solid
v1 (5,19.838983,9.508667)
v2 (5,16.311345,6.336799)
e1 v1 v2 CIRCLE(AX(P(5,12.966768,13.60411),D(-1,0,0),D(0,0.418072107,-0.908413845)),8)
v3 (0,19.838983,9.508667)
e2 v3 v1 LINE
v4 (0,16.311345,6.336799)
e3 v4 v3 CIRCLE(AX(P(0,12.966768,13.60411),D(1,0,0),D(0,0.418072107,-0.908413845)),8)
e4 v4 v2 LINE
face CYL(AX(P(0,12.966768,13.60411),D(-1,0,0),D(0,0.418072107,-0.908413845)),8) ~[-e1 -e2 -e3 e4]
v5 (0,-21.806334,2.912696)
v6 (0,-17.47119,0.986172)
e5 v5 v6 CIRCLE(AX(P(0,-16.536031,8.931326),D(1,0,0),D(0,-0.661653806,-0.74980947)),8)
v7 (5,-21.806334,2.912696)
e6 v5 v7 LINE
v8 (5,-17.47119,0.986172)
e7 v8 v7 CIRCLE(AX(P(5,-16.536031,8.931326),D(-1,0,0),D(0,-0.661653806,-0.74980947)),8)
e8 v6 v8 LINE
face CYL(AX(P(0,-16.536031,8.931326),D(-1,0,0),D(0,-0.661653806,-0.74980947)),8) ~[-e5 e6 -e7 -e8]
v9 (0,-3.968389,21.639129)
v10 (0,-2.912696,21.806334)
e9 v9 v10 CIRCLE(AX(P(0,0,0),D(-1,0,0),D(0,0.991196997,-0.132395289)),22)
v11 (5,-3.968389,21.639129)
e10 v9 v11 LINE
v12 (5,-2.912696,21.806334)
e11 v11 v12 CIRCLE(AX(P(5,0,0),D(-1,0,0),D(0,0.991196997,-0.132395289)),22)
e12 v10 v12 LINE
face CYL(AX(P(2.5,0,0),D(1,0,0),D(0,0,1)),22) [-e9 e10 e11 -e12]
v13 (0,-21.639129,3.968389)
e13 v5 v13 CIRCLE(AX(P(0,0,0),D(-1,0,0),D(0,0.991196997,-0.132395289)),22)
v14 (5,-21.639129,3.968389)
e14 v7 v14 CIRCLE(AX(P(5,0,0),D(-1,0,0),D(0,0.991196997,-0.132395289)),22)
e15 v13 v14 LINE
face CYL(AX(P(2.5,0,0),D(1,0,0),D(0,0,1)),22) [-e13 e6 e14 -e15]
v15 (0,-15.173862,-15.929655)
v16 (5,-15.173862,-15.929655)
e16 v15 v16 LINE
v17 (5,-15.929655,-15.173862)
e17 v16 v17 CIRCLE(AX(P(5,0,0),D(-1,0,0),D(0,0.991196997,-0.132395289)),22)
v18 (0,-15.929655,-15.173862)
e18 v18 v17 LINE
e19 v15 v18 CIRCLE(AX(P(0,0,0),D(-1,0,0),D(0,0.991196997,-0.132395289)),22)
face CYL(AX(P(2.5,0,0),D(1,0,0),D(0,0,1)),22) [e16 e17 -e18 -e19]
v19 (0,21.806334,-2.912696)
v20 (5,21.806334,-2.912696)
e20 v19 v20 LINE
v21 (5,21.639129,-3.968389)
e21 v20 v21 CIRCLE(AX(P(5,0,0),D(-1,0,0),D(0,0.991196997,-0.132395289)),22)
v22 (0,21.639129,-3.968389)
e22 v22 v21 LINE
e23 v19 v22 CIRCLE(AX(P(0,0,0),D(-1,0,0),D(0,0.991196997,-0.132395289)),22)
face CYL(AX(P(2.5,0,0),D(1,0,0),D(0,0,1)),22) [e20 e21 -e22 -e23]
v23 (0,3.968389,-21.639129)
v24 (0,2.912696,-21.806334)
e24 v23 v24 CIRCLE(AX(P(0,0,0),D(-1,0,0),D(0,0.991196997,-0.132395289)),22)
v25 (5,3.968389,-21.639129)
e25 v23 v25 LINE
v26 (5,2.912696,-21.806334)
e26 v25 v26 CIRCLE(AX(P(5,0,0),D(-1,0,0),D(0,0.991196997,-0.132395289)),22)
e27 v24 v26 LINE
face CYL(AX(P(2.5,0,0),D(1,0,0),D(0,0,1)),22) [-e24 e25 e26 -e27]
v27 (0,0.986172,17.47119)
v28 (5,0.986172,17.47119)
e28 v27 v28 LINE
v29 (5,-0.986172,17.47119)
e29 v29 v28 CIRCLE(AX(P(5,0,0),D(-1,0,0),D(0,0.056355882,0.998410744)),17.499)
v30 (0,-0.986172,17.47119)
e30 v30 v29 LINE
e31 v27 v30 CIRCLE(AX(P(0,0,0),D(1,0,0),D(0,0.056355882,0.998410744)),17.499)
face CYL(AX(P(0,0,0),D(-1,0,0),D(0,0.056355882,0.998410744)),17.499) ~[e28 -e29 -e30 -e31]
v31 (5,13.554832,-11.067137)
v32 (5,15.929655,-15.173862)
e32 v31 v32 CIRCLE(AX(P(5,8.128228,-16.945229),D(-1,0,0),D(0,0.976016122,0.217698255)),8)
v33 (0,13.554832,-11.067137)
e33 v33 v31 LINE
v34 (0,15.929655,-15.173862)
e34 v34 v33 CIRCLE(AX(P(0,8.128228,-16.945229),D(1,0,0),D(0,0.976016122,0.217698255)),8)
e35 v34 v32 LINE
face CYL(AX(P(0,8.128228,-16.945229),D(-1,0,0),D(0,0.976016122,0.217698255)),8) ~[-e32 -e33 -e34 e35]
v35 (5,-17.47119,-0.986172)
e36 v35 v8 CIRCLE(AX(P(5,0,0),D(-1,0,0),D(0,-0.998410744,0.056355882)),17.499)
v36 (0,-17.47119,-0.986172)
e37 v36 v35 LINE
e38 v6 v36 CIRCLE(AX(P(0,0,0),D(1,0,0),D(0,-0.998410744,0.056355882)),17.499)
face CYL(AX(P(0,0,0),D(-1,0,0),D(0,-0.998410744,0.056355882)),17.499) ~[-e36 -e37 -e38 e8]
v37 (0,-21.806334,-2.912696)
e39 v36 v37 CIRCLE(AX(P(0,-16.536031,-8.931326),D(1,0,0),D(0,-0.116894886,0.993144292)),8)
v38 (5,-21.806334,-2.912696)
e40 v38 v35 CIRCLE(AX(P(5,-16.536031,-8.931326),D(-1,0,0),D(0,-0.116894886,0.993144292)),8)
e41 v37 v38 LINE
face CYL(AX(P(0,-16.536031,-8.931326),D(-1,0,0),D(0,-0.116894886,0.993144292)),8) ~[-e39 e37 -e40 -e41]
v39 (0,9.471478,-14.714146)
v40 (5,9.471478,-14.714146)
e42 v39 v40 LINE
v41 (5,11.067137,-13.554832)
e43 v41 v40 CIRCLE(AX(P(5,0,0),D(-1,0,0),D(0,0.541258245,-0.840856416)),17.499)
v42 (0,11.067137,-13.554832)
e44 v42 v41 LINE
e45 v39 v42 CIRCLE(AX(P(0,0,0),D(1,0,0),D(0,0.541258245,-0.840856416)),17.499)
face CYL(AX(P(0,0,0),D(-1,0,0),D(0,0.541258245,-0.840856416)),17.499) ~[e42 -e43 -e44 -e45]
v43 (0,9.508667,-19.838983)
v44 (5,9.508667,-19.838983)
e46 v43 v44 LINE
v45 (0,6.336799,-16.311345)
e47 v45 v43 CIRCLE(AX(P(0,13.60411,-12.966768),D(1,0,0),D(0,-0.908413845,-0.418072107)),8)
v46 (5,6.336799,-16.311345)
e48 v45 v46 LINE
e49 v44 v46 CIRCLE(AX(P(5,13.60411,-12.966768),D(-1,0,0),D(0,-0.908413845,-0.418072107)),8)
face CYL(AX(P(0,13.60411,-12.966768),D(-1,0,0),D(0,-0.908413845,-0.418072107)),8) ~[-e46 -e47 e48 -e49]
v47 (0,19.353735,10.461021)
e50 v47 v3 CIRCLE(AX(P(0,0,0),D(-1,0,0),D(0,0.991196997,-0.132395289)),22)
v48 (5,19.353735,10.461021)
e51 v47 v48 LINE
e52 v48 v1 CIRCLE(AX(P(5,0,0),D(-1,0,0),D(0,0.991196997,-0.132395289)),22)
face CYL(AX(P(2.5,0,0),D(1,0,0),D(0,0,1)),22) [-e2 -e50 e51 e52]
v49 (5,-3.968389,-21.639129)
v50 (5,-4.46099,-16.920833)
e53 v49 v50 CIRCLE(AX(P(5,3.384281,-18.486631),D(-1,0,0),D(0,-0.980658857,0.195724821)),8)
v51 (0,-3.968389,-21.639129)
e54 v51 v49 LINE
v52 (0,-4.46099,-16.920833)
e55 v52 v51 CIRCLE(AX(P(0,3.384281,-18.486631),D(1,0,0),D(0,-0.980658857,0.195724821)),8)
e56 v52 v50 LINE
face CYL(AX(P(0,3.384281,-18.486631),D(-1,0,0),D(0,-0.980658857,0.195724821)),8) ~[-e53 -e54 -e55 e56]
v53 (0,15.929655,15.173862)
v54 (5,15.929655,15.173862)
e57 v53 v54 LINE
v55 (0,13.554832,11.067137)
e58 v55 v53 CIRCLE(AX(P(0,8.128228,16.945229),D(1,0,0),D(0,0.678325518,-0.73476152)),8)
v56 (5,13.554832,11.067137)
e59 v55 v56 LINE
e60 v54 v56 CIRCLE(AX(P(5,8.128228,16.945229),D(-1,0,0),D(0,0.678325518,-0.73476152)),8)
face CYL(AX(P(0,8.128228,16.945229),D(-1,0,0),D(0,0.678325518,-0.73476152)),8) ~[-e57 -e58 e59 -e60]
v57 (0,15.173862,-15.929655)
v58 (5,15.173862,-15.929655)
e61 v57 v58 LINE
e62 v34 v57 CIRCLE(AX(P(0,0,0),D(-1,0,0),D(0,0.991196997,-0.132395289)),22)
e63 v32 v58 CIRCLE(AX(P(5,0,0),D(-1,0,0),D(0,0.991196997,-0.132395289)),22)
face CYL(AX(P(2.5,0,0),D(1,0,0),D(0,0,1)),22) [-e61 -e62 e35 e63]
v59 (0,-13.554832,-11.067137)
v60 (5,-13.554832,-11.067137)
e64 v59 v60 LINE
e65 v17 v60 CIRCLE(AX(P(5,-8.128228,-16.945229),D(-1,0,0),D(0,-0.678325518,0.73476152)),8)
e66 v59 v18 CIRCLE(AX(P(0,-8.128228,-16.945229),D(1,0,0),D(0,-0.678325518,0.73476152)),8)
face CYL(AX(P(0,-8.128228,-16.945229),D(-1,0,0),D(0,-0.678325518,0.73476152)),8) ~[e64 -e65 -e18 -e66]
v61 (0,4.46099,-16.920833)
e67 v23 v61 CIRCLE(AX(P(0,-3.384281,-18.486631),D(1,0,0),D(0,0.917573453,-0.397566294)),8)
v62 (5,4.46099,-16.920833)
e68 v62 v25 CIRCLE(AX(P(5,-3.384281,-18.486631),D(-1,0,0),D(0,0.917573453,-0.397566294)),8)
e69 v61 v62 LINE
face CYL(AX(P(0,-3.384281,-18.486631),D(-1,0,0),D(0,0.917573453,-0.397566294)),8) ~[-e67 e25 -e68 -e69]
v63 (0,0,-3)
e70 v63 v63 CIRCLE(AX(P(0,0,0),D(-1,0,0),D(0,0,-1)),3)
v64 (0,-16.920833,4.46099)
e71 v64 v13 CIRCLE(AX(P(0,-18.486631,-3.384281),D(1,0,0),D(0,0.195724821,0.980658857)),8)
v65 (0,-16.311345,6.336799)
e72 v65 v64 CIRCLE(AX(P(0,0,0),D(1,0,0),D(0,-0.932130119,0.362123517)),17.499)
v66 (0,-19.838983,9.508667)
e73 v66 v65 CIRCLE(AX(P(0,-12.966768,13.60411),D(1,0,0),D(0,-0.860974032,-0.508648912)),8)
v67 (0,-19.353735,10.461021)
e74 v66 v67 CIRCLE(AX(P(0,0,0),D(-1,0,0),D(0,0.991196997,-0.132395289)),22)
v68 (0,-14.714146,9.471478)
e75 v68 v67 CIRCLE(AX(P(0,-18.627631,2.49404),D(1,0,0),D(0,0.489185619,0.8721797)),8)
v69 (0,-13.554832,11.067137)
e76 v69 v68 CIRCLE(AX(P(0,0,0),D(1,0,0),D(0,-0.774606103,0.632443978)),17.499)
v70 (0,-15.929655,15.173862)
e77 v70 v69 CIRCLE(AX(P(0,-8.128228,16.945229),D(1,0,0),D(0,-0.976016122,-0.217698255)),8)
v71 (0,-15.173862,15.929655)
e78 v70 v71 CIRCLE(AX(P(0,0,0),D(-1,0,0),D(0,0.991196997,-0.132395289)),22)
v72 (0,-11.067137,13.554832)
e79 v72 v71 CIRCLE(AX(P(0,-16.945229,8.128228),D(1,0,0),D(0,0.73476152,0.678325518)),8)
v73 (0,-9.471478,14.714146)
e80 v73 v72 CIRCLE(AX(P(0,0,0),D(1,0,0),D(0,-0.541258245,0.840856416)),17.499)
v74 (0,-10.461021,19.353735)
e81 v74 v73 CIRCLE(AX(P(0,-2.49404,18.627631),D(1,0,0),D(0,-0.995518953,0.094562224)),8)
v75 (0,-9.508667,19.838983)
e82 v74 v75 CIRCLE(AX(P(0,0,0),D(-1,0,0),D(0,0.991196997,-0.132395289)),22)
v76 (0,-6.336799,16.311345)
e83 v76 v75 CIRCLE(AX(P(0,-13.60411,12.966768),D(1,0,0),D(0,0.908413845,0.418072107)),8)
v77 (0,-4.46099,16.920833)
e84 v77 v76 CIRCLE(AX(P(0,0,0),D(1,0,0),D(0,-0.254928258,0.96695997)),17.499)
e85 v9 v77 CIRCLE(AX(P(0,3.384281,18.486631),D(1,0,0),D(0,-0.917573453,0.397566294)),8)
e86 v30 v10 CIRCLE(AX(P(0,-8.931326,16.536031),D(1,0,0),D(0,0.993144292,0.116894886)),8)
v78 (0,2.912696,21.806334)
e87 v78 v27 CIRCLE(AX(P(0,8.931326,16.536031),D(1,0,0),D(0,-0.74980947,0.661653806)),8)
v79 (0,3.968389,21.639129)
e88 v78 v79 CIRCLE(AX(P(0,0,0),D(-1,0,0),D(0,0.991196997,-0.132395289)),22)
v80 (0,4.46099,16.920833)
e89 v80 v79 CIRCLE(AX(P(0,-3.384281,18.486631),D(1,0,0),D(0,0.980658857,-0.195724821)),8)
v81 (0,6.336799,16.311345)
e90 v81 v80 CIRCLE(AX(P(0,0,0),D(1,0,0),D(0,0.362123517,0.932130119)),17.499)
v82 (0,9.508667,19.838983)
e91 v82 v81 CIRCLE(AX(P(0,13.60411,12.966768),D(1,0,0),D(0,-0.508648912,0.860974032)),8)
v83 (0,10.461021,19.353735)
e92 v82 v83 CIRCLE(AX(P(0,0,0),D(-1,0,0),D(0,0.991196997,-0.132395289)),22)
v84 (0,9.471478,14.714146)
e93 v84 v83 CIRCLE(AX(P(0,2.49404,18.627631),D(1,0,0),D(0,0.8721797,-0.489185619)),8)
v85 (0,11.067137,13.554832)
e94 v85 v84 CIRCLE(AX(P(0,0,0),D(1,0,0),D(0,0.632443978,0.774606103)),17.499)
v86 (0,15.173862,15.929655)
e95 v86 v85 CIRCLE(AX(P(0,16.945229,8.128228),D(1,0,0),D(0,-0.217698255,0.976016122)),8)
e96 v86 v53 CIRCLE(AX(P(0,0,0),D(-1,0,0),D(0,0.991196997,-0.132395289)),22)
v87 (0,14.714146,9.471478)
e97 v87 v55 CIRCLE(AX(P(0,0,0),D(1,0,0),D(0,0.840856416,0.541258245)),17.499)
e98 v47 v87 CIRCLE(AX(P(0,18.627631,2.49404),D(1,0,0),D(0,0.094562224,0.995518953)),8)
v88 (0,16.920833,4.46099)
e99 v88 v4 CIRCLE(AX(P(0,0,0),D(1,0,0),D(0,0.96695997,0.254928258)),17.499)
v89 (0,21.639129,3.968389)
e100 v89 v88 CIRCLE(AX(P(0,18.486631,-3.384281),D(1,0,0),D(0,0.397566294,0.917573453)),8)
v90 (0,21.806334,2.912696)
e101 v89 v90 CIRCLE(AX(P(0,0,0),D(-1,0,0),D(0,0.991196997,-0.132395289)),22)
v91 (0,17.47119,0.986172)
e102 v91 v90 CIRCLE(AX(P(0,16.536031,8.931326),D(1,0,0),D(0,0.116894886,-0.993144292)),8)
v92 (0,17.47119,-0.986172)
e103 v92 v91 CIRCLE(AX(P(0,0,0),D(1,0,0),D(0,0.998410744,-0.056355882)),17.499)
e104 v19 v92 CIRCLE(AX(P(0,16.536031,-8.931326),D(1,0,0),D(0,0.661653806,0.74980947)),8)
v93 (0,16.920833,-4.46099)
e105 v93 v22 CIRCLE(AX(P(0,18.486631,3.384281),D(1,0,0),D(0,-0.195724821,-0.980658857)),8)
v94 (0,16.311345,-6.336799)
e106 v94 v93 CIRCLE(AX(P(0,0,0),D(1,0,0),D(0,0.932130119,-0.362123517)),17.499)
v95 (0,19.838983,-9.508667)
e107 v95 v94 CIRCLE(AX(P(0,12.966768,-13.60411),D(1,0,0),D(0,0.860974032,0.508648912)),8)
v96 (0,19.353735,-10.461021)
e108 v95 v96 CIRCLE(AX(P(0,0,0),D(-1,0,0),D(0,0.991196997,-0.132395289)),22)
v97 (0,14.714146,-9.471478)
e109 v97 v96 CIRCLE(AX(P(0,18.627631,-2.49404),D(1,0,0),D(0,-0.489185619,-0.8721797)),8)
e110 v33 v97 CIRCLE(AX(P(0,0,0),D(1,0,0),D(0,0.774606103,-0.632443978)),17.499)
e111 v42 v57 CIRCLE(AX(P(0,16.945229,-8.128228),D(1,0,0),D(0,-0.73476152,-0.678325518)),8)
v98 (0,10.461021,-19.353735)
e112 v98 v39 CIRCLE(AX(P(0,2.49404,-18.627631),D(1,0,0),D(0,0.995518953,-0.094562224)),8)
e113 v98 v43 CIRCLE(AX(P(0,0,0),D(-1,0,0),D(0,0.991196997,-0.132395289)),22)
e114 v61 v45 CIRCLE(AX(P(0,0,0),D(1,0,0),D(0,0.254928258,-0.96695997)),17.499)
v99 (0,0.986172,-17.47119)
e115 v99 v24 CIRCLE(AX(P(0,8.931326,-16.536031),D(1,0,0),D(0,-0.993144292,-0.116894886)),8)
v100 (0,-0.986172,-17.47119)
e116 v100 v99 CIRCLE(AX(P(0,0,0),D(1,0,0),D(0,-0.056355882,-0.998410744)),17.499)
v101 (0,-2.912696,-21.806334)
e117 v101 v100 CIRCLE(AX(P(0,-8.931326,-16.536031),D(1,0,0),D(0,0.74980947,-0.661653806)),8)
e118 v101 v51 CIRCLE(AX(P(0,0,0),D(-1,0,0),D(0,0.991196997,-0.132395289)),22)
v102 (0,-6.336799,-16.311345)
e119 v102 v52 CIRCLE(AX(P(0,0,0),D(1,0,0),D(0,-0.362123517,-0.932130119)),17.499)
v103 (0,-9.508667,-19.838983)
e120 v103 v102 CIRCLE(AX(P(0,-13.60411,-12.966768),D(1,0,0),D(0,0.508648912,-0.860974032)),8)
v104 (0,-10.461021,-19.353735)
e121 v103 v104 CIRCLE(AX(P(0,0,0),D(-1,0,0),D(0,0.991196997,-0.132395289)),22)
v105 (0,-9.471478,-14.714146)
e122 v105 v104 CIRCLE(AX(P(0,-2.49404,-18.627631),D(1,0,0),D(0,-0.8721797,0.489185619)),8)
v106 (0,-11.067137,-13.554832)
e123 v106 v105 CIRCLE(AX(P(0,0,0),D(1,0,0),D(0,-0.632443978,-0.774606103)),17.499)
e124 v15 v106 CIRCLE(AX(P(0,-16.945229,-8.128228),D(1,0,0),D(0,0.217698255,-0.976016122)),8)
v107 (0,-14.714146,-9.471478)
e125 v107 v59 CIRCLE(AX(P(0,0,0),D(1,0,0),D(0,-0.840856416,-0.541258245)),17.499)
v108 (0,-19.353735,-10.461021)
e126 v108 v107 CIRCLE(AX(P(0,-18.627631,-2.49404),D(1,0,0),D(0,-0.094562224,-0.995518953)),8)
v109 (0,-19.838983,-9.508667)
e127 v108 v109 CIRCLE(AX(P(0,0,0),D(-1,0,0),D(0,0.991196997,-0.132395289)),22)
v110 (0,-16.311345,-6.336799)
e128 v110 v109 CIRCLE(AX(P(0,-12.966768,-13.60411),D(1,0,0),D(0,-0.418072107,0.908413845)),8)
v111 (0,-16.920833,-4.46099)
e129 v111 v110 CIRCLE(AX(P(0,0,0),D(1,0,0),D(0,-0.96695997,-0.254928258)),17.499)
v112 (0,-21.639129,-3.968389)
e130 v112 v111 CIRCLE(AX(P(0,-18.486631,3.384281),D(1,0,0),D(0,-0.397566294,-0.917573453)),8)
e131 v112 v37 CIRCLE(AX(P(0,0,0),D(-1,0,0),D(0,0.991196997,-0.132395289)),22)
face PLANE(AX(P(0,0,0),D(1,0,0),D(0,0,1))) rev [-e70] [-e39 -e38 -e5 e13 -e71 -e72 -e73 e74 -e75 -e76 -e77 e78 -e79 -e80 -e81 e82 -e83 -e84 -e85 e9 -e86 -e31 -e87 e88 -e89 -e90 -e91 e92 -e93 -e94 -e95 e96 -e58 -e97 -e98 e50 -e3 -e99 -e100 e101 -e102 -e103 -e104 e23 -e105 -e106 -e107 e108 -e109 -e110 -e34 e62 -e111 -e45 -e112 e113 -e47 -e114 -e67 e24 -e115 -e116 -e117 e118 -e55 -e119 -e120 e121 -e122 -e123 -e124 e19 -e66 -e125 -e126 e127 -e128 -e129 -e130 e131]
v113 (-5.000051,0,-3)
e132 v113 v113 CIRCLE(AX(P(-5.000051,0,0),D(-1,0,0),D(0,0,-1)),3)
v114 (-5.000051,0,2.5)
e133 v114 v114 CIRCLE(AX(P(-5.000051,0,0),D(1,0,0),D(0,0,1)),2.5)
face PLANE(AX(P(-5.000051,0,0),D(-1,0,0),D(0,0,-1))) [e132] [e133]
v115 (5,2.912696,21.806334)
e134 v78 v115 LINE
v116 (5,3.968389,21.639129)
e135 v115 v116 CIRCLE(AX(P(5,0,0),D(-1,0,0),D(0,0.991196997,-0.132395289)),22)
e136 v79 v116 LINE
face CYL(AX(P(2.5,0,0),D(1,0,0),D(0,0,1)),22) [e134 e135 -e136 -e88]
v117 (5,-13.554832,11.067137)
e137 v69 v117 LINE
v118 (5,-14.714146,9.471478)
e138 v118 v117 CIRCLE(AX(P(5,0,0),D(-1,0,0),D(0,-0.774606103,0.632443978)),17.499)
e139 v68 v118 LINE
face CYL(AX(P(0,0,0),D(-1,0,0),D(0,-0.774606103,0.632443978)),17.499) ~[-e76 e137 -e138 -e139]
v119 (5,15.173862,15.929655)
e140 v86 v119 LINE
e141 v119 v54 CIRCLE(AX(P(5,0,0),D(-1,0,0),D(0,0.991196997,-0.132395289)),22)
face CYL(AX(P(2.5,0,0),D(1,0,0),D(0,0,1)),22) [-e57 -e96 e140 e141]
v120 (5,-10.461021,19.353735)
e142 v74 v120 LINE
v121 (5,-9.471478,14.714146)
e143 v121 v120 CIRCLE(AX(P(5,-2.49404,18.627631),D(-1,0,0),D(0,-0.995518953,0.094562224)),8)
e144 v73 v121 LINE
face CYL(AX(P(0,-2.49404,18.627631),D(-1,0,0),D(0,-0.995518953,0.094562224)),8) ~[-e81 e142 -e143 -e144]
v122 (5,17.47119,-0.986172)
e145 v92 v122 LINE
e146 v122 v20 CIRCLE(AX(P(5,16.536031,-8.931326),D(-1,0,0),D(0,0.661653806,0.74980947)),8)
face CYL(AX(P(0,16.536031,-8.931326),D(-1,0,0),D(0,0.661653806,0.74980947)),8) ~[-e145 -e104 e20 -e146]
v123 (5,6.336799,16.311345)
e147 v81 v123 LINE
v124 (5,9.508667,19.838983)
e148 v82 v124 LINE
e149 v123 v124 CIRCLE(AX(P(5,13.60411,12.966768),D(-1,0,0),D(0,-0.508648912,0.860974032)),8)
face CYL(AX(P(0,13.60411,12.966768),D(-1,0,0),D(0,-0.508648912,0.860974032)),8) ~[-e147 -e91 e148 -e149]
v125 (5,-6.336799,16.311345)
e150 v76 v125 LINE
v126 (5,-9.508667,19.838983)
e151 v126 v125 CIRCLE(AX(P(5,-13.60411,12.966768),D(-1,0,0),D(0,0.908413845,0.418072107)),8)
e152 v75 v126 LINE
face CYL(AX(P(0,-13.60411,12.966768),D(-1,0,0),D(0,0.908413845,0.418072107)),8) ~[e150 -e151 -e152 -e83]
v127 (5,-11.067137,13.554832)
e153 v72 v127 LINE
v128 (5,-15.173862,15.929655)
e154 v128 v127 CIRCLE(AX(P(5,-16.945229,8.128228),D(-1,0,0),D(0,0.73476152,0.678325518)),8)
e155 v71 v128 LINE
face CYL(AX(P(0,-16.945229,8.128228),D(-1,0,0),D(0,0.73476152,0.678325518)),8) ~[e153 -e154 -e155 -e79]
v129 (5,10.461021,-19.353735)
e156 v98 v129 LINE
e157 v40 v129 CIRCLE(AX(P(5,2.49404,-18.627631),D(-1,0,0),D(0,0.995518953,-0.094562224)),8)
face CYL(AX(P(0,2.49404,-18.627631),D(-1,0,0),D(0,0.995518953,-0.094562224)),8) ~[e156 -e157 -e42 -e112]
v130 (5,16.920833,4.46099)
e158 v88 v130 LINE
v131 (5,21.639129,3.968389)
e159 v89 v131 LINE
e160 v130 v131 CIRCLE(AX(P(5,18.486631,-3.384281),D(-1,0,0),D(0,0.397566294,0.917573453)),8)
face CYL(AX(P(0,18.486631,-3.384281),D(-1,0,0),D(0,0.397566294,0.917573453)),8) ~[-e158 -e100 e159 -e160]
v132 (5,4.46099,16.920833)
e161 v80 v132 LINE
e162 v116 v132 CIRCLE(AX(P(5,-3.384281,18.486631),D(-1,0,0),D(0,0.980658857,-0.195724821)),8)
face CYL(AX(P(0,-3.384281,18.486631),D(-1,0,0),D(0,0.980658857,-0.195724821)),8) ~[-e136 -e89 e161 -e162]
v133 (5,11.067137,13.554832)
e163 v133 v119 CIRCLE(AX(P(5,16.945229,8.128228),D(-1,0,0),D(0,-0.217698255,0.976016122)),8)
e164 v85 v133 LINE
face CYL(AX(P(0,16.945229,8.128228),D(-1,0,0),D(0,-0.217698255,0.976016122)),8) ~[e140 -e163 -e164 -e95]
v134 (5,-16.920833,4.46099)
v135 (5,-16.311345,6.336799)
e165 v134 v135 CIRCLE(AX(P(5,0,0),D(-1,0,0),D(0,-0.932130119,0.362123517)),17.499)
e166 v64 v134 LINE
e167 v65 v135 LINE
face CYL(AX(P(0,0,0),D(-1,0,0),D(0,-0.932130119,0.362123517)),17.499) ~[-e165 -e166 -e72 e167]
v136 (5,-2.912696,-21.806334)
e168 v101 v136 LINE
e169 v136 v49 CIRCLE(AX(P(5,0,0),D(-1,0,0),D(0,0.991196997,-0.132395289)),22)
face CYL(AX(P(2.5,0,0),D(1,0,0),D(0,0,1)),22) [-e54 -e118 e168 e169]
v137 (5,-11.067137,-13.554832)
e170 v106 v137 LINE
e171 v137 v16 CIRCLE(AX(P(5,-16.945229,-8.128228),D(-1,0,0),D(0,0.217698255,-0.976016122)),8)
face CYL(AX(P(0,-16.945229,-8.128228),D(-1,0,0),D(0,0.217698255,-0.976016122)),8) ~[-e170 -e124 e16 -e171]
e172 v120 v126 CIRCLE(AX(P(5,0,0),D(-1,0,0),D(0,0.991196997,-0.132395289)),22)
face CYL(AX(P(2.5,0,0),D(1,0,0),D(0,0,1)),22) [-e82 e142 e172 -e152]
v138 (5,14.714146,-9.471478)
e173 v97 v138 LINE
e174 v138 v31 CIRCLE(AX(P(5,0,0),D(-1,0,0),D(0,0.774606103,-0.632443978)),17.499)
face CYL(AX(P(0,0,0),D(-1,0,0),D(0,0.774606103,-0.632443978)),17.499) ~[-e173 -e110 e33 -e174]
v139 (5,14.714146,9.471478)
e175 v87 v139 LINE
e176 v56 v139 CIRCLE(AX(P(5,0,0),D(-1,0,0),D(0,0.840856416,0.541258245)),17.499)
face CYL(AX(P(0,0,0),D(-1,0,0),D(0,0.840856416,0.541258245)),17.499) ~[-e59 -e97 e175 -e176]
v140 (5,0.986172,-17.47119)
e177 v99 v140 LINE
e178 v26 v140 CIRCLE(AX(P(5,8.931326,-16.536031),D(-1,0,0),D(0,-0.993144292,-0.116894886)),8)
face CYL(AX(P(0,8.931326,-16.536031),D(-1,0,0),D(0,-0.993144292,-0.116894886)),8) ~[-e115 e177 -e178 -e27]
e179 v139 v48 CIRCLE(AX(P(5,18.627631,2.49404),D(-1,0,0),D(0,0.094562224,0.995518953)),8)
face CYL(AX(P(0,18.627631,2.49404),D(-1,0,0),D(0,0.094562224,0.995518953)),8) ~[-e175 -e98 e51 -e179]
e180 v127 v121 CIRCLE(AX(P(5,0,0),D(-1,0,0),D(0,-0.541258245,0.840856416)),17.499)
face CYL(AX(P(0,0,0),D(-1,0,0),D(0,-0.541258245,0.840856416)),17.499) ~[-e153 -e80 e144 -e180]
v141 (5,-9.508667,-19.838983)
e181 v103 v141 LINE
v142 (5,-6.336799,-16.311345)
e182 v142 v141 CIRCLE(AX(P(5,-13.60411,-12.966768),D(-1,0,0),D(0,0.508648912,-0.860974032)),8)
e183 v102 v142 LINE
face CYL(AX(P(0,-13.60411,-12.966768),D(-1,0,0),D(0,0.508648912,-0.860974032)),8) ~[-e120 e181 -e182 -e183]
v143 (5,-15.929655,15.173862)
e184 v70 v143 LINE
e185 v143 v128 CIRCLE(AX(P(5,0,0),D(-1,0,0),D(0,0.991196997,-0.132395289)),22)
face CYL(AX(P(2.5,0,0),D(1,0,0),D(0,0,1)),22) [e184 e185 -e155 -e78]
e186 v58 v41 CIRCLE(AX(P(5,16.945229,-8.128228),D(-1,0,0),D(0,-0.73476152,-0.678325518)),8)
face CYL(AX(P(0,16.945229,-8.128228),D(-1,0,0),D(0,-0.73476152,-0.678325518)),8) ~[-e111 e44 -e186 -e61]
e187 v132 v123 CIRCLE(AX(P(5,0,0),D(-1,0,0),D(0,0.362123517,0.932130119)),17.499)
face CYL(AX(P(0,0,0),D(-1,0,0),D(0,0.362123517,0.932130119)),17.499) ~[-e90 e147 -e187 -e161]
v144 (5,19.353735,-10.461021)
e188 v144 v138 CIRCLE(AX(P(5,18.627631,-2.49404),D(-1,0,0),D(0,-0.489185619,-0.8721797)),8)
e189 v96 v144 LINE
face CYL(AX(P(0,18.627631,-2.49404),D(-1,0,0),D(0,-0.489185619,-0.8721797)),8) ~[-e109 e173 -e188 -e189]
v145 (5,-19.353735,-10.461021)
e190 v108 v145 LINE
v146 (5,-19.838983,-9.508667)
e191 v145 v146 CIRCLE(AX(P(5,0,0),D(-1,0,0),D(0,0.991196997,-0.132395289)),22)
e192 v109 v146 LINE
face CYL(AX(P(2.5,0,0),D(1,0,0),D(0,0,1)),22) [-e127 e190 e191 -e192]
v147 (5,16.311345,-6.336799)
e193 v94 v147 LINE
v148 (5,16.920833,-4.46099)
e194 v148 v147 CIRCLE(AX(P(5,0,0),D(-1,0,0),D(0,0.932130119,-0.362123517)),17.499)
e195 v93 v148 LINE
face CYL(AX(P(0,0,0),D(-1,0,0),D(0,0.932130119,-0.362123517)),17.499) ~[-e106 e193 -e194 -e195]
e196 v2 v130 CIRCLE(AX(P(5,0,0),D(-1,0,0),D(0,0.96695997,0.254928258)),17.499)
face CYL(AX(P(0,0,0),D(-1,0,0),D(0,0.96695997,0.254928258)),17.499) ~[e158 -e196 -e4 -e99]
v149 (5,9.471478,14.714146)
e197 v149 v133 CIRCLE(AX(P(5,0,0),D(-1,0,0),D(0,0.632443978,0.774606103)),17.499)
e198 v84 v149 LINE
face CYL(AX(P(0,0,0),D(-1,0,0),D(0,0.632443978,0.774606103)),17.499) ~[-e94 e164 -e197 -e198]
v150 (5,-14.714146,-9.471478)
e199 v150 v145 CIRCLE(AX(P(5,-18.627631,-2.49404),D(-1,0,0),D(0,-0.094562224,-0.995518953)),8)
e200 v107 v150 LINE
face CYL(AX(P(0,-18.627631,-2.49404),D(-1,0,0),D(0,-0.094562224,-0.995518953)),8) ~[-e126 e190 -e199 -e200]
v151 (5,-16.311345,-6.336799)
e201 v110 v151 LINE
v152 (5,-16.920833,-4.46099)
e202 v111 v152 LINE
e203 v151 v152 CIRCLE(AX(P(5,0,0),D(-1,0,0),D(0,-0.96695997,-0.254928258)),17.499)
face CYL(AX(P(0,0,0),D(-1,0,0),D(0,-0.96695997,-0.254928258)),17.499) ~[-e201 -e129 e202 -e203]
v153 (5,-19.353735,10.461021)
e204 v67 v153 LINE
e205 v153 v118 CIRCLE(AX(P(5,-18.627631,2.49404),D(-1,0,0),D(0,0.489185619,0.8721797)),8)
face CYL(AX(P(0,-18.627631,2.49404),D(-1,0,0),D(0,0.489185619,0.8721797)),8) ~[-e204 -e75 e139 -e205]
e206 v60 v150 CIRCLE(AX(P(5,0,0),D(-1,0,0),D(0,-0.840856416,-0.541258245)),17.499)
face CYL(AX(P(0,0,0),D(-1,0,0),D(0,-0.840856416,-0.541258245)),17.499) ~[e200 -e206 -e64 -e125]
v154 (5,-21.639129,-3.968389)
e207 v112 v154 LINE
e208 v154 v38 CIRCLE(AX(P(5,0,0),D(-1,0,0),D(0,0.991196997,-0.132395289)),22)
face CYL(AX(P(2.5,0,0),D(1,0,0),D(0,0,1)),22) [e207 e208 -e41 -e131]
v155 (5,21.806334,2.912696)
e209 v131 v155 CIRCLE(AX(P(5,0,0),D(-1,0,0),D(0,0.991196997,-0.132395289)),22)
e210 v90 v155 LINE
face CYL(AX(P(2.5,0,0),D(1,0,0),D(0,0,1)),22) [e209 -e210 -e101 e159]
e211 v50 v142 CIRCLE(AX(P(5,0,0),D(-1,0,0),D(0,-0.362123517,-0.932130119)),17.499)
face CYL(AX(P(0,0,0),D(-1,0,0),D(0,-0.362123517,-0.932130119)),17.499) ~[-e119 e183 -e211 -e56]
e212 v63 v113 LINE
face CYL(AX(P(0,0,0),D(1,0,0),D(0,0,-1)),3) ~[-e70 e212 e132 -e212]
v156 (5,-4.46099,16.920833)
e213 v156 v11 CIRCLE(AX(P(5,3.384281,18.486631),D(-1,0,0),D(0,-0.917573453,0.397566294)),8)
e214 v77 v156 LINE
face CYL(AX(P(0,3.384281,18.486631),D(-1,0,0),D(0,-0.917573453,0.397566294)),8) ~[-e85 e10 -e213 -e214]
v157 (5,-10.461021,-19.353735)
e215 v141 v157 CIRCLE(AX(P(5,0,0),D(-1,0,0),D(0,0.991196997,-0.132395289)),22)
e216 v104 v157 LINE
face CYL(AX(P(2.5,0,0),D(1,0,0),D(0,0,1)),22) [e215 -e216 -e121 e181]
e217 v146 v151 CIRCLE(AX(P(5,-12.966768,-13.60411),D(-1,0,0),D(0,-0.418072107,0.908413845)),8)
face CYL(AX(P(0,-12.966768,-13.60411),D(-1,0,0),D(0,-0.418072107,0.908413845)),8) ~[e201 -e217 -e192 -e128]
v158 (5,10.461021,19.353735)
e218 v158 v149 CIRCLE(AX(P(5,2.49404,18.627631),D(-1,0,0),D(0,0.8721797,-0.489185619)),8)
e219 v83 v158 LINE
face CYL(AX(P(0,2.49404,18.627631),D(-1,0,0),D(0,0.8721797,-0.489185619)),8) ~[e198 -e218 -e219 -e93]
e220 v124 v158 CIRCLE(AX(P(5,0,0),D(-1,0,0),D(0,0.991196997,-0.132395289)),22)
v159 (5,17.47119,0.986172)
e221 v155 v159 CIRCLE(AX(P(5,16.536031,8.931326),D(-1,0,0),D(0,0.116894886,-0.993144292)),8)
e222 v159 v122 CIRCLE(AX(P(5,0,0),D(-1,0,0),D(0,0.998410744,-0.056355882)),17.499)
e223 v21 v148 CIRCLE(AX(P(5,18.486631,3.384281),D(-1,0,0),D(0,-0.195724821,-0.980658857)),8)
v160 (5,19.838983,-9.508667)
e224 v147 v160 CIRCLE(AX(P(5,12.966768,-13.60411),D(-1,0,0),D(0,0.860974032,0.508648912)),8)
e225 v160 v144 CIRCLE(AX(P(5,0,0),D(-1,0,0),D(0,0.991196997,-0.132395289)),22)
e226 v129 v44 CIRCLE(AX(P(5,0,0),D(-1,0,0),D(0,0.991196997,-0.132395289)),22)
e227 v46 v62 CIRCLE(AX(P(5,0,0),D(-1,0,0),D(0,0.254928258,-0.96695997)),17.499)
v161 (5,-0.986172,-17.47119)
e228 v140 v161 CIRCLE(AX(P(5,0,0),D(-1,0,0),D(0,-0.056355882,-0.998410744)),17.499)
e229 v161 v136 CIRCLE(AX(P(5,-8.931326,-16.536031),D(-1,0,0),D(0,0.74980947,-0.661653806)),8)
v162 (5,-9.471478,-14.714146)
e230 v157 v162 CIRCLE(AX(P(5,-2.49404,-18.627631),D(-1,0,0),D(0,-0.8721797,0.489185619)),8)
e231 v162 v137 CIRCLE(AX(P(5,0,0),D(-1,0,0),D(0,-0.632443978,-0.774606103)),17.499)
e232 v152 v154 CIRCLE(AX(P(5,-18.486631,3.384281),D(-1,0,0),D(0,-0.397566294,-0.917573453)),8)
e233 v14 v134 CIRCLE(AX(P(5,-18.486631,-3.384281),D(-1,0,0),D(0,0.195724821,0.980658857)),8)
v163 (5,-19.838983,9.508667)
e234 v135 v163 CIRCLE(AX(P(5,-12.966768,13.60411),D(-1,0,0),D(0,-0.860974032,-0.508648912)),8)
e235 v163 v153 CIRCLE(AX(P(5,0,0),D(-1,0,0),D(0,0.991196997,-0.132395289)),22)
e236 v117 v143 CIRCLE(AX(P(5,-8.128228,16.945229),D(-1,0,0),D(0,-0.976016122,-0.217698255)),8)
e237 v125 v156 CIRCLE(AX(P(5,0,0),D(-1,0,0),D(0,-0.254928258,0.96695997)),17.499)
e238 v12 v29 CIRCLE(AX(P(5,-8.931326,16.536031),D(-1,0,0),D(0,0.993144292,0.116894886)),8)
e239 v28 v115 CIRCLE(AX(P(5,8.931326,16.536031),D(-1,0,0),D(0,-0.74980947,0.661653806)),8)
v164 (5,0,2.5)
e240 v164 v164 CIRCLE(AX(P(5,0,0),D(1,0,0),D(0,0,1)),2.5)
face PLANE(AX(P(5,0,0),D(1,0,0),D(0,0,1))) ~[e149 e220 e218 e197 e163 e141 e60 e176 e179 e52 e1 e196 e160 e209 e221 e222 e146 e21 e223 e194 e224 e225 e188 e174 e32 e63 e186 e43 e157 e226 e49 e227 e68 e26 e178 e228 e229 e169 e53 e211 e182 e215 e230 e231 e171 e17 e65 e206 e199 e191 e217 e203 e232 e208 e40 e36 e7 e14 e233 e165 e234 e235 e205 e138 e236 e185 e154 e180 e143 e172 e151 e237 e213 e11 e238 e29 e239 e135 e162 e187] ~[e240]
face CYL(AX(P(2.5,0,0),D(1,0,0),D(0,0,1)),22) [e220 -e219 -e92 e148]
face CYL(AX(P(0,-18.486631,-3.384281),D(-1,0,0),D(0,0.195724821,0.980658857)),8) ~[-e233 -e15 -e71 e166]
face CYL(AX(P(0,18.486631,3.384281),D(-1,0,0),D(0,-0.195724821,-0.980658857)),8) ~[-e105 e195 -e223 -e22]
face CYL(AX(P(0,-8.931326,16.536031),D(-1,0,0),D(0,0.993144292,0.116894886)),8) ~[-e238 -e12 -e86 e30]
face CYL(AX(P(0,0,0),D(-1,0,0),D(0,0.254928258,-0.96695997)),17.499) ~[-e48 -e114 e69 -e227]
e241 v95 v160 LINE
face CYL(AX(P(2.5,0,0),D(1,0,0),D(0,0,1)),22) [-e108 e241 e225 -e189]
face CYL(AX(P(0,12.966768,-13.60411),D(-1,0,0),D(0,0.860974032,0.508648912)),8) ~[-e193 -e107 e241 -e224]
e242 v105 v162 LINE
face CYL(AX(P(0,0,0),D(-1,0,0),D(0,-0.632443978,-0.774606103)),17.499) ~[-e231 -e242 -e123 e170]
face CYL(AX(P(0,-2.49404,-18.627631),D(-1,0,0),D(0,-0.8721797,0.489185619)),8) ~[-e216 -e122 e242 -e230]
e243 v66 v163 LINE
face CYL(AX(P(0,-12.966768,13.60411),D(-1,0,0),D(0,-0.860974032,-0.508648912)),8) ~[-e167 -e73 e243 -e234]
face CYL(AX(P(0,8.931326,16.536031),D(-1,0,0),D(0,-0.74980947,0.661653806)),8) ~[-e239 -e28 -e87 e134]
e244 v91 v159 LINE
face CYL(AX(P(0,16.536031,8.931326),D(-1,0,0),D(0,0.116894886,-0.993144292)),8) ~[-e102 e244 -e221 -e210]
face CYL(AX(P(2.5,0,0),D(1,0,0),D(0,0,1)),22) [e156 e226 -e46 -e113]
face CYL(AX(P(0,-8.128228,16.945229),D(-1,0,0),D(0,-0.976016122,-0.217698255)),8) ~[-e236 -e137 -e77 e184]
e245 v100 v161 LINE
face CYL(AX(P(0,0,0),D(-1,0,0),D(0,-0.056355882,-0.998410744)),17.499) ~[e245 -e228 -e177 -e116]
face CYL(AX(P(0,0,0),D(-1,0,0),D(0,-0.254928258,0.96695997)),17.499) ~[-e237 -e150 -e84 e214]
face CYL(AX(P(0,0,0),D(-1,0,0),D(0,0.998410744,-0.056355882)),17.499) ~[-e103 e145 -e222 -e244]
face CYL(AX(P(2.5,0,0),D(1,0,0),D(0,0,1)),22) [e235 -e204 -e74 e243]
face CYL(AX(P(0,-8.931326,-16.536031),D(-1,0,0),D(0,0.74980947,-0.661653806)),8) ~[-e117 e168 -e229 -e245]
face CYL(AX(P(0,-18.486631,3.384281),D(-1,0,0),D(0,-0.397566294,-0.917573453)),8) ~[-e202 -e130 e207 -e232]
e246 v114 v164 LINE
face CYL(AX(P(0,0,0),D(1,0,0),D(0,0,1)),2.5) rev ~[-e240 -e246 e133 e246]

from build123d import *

# Parameters (mm, degrees)
BASPROSKE_W      = 5
BASPROSKE_H      = 22
TOOTHCUT_DEPTH   = 32.511902513
TEETHCUTS_COUNT  = 20
TEETHCUTS_ANGLE  = 342
HUBNEAONESKE_R   = 3
HUBNEARONE_DEPTH = 5.0000508
BORSKE_R         = 2.5
BORE_DEPTH       = 10.0000508


with BuildPart() as part:
    # BasProSke → Base-Revolve (revolve)
    with BuildSketch(Plane(origin=(0, 0, 0), x_dir=(1, 0, 0), z_dir=(0, 1, 0)), mode=Mode.PRIVATE) as base_revolve_sk:
        with Locations((2.5, 11)):
            Rectangle(BASPROSKE_W, BASPROSKE_H)
    revolve(base_revolve_sk.sketch.rotate(Axis((-10, 0, 0), (1, 0, 0)), 180), axis=Axis((-10, 0, 0), (1, 0, 0)))

    # TooCutSke → ToothCut (cut, through all)
    with BuildSketch(Plane(origin=(0, 0, 0), x_dir=(0, 0, -1), z_dir=(1, 0, 0))):
        with BuildLine():
            ThreePointArc((0.986171591, 17.471189616), (0, 17.499), (-0.986171591, 17.471189616))
            ThreePointArc((-0.986171591, 17.471189616), (-1.626916196, 19.798789858), (-2.932850173, 21.829260982))
            ThreePointArc((-2.932850173, 21.829260982), (0, 22.0254), (2.932850173, 21.829260982))
            ThreePointArc((2.932850173, 21.829260982), (1.626916196, 19.798789858), (0.986171591, 17.471189616))
        make_face()
    toothcut = extrude(amount=TOOTHCUT_DEPTH, mode=Mode.SUBTRACT)

    # TeethCuts: ToothCut ×20 about axis
    teethcuts_axis = Axis((-10, 0, 0), (1, 0, 0))
    for i in range(1, TEETHCUTS_COUNT):
        add(toothcut.rotate(teethcuts_axis, i * TEETHCUTS_ANGLE / (TEETHCUTS_COUNT - 1)), mode=Mode.SUBTRACT)

    # HubNeaOneSke → HubNearOne (add)
    with BuildSketch(Plane.ZY):
        with Locations(Location((0, 0, 0), (0, 0, 180))):
            Circle(HUBNEAONESKE_R)
    extrude(amount=HUBNEARONE_DEPTH)

    # BorSke → Bore (cut, symmetric)
    with BuildSketch(Plane(origin=(0, 0, 0), x_dir=(0, 0, -1), z_dir=(1, 0, 0))):
        with Locations(Location((0, 0, 0), (0, 0, 180))):
            Circle(BORSKE_R)
    extrude(amount=BORE_DEPTH, both=True, mode=Mode.SUBTRACT)


solid = part.part
